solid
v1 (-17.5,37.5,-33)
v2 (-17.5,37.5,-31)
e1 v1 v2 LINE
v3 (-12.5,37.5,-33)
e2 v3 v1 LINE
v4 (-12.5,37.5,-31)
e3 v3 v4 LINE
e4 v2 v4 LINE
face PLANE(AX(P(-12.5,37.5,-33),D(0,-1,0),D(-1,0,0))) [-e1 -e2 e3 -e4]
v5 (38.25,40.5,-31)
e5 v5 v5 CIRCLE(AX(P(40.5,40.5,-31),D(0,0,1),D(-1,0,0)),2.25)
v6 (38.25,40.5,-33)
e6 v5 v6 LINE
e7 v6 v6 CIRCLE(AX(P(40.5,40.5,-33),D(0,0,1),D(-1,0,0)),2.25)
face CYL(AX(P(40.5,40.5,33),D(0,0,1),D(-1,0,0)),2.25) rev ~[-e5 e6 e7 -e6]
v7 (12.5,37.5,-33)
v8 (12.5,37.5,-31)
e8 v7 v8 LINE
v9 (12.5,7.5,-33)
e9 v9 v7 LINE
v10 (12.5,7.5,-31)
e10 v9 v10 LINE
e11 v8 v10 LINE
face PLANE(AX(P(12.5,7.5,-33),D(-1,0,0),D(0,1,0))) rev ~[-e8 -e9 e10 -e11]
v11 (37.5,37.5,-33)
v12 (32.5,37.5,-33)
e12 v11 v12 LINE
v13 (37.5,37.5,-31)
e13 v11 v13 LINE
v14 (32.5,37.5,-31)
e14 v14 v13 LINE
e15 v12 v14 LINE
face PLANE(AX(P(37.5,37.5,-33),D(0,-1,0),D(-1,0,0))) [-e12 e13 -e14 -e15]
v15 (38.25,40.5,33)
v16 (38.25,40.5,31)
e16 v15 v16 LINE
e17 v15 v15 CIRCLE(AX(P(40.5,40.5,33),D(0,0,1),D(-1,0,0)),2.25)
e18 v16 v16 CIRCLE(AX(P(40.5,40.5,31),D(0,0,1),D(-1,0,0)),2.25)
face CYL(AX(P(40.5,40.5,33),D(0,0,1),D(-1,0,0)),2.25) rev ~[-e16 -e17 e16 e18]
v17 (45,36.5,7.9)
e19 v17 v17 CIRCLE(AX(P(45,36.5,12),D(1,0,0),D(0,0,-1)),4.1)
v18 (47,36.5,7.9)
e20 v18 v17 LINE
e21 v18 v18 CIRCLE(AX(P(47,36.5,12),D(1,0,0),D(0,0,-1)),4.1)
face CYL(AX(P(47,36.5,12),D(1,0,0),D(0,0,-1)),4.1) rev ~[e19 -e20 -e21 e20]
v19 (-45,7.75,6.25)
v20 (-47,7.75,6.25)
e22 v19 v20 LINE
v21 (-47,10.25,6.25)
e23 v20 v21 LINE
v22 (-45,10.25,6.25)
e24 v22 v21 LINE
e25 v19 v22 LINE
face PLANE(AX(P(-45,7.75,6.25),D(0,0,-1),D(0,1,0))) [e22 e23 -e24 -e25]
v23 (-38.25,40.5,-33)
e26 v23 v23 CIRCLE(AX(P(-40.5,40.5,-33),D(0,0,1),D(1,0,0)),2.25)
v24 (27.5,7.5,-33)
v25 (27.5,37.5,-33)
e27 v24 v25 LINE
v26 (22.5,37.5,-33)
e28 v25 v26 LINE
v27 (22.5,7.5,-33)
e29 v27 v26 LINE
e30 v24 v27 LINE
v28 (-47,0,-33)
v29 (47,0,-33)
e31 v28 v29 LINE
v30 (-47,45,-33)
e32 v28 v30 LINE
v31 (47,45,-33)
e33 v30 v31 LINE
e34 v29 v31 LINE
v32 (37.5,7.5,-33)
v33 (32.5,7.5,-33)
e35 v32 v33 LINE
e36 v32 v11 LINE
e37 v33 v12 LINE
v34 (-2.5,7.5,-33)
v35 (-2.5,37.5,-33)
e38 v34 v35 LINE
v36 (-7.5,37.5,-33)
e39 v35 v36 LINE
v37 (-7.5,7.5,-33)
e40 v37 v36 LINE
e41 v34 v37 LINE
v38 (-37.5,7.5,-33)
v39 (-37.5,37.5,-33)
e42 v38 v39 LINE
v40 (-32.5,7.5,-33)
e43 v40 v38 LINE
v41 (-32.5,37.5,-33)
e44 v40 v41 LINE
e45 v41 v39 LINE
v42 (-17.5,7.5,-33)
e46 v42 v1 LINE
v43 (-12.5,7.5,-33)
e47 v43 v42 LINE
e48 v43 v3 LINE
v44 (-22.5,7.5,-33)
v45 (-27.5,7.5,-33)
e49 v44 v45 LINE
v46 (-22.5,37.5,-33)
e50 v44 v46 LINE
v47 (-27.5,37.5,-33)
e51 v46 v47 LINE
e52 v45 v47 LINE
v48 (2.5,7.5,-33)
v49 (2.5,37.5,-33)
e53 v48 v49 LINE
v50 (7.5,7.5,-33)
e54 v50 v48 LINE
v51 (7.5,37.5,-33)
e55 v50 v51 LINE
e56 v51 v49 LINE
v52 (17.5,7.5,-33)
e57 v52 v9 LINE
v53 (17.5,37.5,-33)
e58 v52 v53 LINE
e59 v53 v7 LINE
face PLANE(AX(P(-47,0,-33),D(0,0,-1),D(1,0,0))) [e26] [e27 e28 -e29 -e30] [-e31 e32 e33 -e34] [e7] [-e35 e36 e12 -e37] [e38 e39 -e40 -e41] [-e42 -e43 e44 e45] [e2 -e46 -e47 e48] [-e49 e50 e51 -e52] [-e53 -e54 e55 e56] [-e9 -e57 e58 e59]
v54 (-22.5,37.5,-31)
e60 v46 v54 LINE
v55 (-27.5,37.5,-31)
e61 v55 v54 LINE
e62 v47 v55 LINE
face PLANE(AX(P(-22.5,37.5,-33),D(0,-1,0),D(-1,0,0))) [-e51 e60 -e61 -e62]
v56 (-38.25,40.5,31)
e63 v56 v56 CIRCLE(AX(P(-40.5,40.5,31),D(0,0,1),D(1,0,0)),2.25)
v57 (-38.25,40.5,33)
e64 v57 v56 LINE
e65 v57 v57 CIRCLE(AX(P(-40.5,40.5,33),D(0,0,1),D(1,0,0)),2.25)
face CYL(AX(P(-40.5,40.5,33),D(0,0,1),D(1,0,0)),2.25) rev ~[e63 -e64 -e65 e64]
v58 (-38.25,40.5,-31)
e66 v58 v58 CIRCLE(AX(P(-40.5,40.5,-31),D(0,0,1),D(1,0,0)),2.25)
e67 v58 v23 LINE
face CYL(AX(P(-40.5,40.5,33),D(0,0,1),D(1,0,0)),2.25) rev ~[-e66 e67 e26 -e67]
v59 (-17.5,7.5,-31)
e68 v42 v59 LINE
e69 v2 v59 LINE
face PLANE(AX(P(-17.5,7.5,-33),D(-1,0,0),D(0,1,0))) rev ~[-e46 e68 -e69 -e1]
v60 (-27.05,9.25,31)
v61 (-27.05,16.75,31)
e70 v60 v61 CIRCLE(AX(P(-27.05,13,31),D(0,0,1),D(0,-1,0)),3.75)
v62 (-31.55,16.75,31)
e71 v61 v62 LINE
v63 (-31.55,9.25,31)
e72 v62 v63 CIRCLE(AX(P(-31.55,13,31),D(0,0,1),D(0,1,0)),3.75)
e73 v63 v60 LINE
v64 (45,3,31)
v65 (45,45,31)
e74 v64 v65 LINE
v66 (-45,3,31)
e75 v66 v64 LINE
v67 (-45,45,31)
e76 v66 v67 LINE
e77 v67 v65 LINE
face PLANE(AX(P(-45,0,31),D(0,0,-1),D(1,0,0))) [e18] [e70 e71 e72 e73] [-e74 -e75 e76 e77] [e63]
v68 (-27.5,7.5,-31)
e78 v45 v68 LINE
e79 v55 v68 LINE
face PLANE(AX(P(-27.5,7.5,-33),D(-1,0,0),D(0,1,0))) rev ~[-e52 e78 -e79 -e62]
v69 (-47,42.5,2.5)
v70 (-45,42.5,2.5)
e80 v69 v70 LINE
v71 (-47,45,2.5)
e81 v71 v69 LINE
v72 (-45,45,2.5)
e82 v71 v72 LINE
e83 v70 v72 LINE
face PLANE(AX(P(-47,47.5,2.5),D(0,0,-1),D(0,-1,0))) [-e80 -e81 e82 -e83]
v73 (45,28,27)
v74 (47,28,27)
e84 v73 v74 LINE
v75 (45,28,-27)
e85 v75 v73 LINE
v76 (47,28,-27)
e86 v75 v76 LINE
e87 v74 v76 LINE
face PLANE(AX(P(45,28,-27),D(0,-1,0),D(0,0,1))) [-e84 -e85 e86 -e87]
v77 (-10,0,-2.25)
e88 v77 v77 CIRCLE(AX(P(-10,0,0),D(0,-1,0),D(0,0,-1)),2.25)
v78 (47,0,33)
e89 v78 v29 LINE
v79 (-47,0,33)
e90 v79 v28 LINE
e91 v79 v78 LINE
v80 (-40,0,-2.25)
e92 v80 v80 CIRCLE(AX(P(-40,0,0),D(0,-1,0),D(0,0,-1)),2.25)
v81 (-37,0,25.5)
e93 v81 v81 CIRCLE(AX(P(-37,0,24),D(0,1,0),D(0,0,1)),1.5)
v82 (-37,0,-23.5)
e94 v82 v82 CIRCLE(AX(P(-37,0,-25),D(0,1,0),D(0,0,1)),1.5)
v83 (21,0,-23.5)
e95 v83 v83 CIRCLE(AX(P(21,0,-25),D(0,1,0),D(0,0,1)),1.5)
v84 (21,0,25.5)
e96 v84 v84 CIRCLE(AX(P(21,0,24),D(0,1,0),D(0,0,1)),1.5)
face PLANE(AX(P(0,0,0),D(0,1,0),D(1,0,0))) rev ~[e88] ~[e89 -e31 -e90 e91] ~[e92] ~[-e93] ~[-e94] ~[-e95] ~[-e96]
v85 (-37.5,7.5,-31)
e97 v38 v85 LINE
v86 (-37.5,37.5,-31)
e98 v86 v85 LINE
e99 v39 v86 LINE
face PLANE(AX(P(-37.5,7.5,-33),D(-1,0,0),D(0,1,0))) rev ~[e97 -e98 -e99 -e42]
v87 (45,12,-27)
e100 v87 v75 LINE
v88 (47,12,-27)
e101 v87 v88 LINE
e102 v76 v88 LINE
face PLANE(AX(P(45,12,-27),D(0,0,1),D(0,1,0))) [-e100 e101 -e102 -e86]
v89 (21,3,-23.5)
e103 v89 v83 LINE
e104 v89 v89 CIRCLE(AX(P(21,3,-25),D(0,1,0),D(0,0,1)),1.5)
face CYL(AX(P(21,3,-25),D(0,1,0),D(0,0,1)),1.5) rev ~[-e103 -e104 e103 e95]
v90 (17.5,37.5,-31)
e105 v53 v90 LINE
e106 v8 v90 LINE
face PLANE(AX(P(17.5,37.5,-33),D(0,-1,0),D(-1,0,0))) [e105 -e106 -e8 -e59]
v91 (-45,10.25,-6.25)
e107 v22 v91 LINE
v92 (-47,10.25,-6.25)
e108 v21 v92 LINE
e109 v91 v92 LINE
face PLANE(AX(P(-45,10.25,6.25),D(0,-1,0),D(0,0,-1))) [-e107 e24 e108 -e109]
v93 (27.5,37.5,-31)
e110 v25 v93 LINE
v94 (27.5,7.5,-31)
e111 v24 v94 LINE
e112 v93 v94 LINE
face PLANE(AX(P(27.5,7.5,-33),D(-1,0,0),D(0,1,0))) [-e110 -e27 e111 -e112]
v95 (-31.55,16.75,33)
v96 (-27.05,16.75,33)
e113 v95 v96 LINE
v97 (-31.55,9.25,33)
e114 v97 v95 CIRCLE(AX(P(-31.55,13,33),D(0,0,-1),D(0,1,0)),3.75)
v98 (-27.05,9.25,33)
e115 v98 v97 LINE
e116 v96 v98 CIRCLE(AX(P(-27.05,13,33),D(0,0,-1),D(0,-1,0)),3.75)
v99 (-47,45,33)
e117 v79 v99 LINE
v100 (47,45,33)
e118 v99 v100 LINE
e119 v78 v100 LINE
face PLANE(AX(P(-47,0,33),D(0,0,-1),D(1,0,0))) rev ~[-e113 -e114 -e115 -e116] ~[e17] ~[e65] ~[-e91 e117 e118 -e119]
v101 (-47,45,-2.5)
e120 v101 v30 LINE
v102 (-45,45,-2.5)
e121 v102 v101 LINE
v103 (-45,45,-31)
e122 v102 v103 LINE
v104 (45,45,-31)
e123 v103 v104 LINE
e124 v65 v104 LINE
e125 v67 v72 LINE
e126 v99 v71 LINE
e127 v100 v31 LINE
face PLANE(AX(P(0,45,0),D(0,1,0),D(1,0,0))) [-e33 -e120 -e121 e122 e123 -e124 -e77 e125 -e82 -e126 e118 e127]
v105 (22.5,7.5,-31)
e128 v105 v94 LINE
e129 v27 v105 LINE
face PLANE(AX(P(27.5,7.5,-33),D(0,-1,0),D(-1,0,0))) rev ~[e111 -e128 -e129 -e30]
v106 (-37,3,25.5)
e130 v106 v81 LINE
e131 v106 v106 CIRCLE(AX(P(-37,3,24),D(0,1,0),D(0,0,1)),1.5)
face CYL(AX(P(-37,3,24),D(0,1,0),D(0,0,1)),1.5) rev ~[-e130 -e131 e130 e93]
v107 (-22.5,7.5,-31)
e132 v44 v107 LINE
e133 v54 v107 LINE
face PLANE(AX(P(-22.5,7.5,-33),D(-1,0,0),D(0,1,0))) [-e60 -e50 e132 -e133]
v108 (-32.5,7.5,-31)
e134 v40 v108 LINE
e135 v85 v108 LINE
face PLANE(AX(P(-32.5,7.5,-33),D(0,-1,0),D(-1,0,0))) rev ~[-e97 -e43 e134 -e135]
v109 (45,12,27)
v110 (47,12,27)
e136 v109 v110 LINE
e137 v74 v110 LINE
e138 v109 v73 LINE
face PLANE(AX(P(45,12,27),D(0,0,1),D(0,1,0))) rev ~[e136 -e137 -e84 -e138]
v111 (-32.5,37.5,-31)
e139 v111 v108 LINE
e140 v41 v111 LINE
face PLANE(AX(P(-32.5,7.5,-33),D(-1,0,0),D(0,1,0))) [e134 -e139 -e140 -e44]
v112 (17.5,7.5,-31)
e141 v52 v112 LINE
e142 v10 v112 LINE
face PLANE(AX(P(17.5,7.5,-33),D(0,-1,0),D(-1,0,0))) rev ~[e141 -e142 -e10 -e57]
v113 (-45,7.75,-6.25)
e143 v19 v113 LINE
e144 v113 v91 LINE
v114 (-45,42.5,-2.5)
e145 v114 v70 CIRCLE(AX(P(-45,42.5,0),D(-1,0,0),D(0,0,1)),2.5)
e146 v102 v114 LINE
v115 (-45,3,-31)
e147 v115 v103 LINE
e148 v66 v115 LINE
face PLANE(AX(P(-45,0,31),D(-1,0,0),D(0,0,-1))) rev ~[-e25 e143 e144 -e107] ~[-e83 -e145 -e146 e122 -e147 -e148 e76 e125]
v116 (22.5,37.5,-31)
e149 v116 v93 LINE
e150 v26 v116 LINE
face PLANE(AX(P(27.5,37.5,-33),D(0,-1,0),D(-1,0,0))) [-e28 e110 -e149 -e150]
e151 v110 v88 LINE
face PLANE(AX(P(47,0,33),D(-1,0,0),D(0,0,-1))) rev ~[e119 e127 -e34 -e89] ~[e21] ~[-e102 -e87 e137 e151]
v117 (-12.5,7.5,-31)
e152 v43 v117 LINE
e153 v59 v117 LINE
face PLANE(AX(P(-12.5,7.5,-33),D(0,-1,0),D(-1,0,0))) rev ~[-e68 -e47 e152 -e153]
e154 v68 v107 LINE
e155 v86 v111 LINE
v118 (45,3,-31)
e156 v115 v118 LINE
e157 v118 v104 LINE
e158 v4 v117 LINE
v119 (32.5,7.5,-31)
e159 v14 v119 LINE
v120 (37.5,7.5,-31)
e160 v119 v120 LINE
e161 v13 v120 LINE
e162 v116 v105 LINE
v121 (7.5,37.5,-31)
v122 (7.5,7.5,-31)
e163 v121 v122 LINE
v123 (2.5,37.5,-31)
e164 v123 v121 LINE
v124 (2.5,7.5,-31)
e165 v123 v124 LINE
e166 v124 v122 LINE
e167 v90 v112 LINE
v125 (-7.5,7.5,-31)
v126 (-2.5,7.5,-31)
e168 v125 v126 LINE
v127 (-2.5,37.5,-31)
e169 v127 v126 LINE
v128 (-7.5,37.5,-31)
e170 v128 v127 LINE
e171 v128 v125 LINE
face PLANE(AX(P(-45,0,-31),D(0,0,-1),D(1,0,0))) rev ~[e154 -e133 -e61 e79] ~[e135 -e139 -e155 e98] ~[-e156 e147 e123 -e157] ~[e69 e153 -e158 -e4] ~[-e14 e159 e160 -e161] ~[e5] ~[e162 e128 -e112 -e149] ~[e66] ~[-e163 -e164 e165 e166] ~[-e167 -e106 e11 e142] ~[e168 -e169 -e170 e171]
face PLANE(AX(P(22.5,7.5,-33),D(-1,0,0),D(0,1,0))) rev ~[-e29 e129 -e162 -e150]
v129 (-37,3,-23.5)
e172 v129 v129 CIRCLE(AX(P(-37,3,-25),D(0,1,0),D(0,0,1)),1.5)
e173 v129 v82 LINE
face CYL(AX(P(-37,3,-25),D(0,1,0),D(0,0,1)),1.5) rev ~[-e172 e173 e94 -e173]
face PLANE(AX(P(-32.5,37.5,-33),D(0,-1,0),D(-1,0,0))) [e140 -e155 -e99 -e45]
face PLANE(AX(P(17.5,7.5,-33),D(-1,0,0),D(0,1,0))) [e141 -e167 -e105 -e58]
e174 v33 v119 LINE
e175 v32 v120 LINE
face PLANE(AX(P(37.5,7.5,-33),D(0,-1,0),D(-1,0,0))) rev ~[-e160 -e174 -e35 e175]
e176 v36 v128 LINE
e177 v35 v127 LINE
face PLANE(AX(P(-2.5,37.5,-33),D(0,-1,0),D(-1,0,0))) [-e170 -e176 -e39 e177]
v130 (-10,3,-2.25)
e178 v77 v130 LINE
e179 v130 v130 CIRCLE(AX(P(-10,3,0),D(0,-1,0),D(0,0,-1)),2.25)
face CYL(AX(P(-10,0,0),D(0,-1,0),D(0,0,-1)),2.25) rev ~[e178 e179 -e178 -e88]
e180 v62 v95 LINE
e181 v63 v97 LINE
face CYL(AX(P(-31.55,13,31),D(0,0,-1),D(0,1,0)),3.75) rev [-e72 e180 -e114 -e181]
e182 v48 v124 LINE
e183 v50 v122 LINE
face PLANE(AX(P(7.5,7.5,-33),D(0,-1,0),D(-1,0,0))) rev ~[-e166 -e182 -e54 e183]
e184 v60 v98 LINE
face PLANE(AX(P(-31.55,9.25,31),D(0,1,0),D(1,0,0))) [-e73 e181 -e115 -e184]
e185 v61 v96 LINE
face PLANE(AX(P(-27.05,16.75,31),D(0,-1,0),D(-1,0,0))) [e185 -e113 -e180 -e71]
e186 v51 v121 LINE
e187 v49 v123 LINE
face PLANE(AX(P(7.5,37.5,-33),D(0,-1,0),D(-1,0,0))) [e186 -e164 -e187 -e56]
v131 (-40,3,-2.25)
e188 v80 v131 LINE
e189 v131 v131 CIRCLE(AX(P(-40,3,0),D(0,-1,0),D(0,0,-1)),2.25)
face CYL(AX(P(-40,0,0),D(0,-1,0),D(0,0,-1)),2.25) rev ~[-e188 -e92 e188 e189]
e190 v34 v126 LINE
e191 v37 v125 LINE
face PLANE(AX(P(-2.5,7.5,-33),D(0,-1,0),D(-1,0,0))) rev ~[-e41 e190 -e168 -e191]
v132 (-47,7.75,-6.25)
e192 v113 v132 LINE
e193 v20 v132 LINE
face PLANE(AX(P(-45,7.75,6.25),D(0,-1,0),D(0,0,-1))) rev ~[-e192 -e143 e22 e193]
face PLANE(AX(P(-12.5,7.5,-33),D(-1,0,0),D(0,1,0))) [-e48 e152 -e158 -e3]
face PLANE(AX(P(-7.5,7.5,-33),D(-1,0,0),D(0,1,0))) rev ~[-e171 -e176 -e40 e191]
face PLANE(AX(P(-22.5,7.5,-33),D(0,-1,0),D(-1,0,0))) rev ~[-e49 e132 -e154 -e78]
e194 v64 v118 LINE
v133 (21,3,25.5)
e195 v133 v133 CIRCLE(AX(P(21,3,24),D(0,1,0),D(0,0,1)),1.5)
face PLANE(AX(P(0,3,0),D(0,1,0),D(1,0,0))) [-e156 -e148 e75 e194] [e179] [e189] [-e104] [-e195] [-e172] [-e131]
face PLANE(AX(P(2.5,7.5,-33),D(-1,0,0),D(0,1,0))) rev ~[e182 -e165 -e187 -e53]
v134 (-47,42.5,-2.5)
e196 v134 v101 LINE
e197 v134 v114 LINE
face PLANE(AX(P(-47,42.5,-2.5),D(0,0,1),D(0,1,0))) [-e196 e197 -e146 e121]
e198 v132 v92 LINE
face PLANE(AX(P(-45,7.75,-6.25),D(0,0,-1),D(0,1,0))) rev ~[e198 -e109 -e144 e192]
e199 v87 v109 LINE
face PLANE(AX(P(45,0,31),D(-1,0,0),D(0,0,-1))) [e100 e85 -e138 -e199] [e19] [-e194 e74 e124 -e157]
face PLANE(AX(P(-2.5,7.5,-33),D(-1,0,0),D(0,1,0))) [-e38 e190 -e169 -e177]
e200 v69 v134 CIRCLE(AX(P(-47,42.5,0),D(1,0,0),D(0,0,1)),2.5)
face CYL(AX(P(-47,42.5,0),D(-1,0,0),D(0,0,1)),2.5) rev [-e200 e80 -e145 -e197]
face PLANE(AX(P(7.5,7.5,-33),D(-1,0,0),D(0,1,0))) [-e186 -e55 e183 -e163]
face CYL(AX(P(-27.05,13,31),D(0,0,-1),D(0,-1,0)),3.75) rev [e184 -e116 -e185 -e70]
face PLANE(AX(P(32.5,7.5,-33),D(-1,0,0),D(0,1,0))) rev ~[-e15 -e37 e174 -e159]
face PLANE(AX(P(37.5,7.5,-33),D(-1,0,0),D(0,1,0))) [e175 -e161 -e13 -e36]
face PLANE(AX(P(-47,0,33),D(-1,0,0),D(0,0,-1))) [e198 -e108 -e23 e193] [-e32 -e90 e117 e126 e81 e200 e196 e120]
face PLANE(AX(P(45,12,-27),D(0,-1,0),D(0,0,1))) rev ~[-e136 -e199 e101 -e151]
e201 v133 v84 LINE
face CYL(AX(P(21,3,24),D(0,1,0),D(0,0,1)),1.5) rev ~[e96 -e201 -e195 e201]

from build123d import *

# Parameters (mm, degrees)
SKETCH1_W           = 90
SKETCH1_H           = 62
BOSS_EXTRUDE1_DEPTH = 3
CUT_EXTRUDE1_REACH  = 56.727
SKETCH2_R           = 1.5
SKETCH3_W           = 94
SKETCH3_H           = 66
SKETCH3_W_2         = 90
SKETCH3_H_2         = 62
BOSS_EXTRUDE2_DEPTH = 45
CUT_EXTRUDE2_REACH  = 109.601
SKETCH4_W           = 12.5
SKETCH4_H           = 2.5
CUT_EXTRUDE3_REACH  = 93.269
CUT_EXTRUDE4_REACH  = 109.601
SKETCH6_W           = 54
SKETCH6_H           = 16
CUT_EXTRUDE5_REACH  = 111.316
SKETCH7_R           = 4.1
SKETCH8_R           = 2.25
CUT_EXTRUDE6_DEPTH  = 93.682252886
CUT_EXTRUDE8_REACH  = 94.682
SKETCH10_W          = 5
SKETCH10_H          = 30
CUT_EXTRUDE9_REACH  = 111.316
CUT_EXTRUDE10_REACH = 74.959
SKETCH12_R          = 2.25


with BuildPart() as part:
    # Sketch1 → Boss-Extrude1 (new body)
    with BuildSketch(Plane(origin=(0, 0, 0), x_dir=(1, 0, 0), z_dir=(0, 1, 0))):
        Rectangle(SKETCH1_W, SKETCH1_H)
    extrude(amount=BOSS_EXTRUDE1_DEPTH)

    # Sketch2 → Cut-Extrude1 (cut, up to next)
    with BuildSketch(Plane(origin=(0, 3, 0), x_dir=(1, 0, 0), z_dir=(0, 1, 0)), mode=Mode.PRIVATE) as cut_extrude1_sk1:
        with Locations(Location((-37, -24, 0), (0, 0, 270))):
            Circle(SKETCH2_R)
    cut_extrude1_tool1 = extrude(cut_extrude1_sk1.sketch, amount=-CUT_EXTRUDE1_REACH, mode=Mode.PRIVATE) & part.part
    # Sketch2 → Cut-Extrude1 (cut, up to next)
    with BuildSketch(Plane(origin=(0, 3, 0), x_dir=(1, 0, 0), z_dir=(0, 1, 0)), mode=Mode.PRIVATE) as cut_extrude1_sk2:
        with Locations(Location((21, -24, 0), (0, 0, 270))):
            Circle(SKETCH2_R)
    cut_extrude1_tool2 = extrude(cut_extrude1_sk2.sketch, amount=-CUT_EXTRUDE1_REACH, mode=Mode.PRIVATE) & part.part
    # Sketch2 → Cut-Extrude1 (cut, up to next)
    with BuildSketch(Plane(origin=(0, 3, 0), x_dir=(1, 0, 0), z_dir=(0, 1, 0)), mode=Mode.PRIVATE) as cut_extrude1_sk3:
        with Locations(Location((21, 25, 0), (0, 0, 270))):
            Circle(SKETCH2_R)
    cut_extrude1_tool3 = extrude(cut_extrude1_sk3.sketch, amount=-CUT_EXTRUDE1_REACH, mode=Mode.PRIVATE) & part.part
    # Sketch2 → Cut-Extrude1 (cut, up to next)
    with BuildSketch(Plane(origin=(0, 3, 0), x_dir=(1, 0, 0), z_dir=(0, 1, 0)), mode=Mode.PRIVATE) as cut_extrude1_sk4:
        with Locations(Location((-37, 25, 0), (0, 0, 270))):
            Circle(SKETCH2_R)
    cut_extrude1_tool4 = extrude(cut_extrude1_sk4.sketch, amount=-CUT_EXTRUDE1_REACH, mode=Mode.PRIVATE) & part.part
    add(cut_extrude1_tool1.solids().sort_by_distance((-37, 3, 24))[0], mode=Mode.SUBTRACT)
    add(cut_extrude1_tool2.solids().sort_by_distance((21, 3, 24))[0], mode=Mode.SUBTRACT)
    add(cut_extrude1_tool3.solids().sort_by_distance((21, 3, -25))[0], mode=Mode.SUBTRACT)
    add(cut_extrude1_tool4.solids().sort_by_distance((-37, 3, -25))[0], mode=Mode.SUBTRACT)

    # Sketch3 → Boss-Extrude2 (add)
    with BuildSketch(Plane(origin=(0, 0, 0), x_dir=(1, 0, 0), z_dir=(0, 1, 0))):
        Rectangle(SKETCH3_W, SKETCH3_H)
        Rectangle(SKETCH3_W_2, SKETCH3_H_2, mode=Mode.SUBTRACT)
    extrude(amount=BOSS_EXTRUDE2_DEPTH)

    # Sketch4 → Cut-Extrude2 (cut, up to next)
    with BuildSketch(Plane(origin=(-45, 0, 0), x_dir=(0, 0, -1), z_dir=(1, 0, 0)), mode=Mode.PRIVATE) as cut_extrude2_sk1:
        with Locations((0, 9)):
            Rectangle(SKETCH4_W, SKETCH4_H)
    cut_extrude2_tool1 = extrude(cut_extrude2_sk1.sketch, amount=-CUT_EXTRUDE2_REACH, mode=Mode.PRIVATE) & part.part
    add(cut_extrude2_tool1.solids().sort_by_distance((-45, 9, 0))[0], mode=Mode.SUBTRACT)

    # Sketch5 → Cut-Extrude3 (cut, up to next)
    with BuildSketch(Plane(origin=(0, 0, 31), x_dir=(-1, 0, 0), z_dir=(0, 0, -1)), mode=Mode.PRIVATE) as cut_extrude3_sk1:
        with BuildLine():
            Line((31.55, 9.25), (27.05, 9.25))
            ThreePointArc((27.05, 9.25), (23.3, 13), (27.05, 16.75))
            Line((27.05, 16.75), (31.55, 16.75))
            ThreePointArc((31.55, 16.75), (35.3, 13), (31.55, 9.25))
        make_face()
    cut_extrude3_tool1 = extrude(cut_extrude3_sk1.sketch, amount=-CUT_EXTRUDE3_REACH, mode=Mode.PRIVATE) & part.part
    add(cut_extrude3_tool1.solids().sort_by_distance((-29.3, 13, 31))[0], mode=Mode.SUBTRACT)

    # Sketch6 → Cut-Extrude4 (cut, up to next)
    with BuildSketch(Plane.ZY.offset(-45), mode=Mode.PRIVATE) as cut_extrude4_sk1:
        with Locations((0, 20)):
            Rectangle(SKETCH6_W, SKETCH6_H)
    cut_extrude4_tool1 = extrude(cut_extrude4_sk1.sketch, amount=-CUT_EXTRUDE4_REACH, mode=Mode.PRIVATE) & part.part
    add(cut_extrude4_tool1.solids().sort_by_distance((45, 20, 0))[0], mode=Mode.SUBTRACT)

    # Sketch7 → Cut-Extrude5 (cut, up to next)
    with BuildSketch(Plane(origin=(47, 0, 0), x_dir=(0, 0, -1), z_dir=(1, 0, 0)), mode=Mode.PRIVATE) as cut_extrude5_sk1:
        with Locations((-12, 36.5)):
            Circle(SKETCH7_R)
    cut_extrude5_tool1 = extrude(cut_extrude5_sk1.sketch, amount=-CUT_EXTRUDE5_REACH, mode=Mode.PRIVATE) & part.part
    add(cut_extrude5_tool1.solids().sort_by_distance((47, 36.5, 12))[0], mode=Mode.SUBTRACT)

    # Sketch8 → Cut-Extrude6 (cut, through all)
    with BuildSketch(Plane.XY.offset(33)):
        with Locations((-40.5, 40.5)):
            Circle(SKETCH8_R)
        with Locations(Location((40.5, 40.5, 0), (0, 0, 180))):
            Circle(SKETCH8_R)
    extrude(amount=-CUT_EXTRUDE6_DEPTH, mode=Mode.SUBTRACT)

    # Sketch10 → Cut-Extrude8 (cut, up to next)
    with BuildSketch(Plane(origin=(0, 0, -33), x_dir=(-1, 0, 0), z_dir=(0, 0, -1)), mode=Mode.PRIVATE) as cut_extrude8_sk1:
        with Locations((15, 22.5)):
            Rectangle(SKETCH10_W, SKETCH10_H)
    cut_extrude8_tool1 = extrude(cut_extrude8_sk1.sketch, amount=-CUT_EXTRUDE8_REACH, mode=Mode.PRIVATE) & part.part
    # Sketch10 → Cut-Extrude8 (cut, up to next)
    with BuildSketch(Plane(origin=(0, 0, -33), x_dir=(-1, 0, 0), z_dir=(0, 0, -1)), mode=Mode.PRIVATE) as cut_extrude8_sk2:
        with Locations((5, 22.5)):
            Rectangle(SKETCH10_W, SKETCH10_H)
    cut_extrude8_tool2 = extrude(cut_extrude8_sk2.sketch, amount=-CUT_EXTRUDE8_REACH, mode=Mode.PRIVATE) & part.part
    # Sketch10 → Cut-Extrude8 (cut, up to next)
    with BuildSketch(Plane(origin=(0, 0, -33), x_dir=(-1, 0, 0), z_dir=(0, 0, -1)), mode=Mode.PRIVATE) as cut_extrude8_sk3:
        with Locations((25, 22.5)):
            Rectangle(SKETCH10_W, SKETCH10_H)
    cut_extrude8_tool3 = extrude(cut_extrude8_sk3.sketch, amount=-CUT_EXTRUDE8_REACH, mode=Mode.PRIVATE) & part.part
    # Sketch10 → Cut-Extrude8 (cut, up to next)
    with BuildSketch(Plane(origin=(0, 0, -33), x_dir=(-1, 0, 0), z_dir=(0, 0, -1)), mode=Mode.PRIVATE) as cut_extrude8_sk4:
        with Locations((35, 22.5)):
            Rectangle(SKETCH10_W, SKETCH10_H)
    cut_extrude8_tool4 = extrude(cut_extrude8_sk4.sketch, amount=-CUT_EXTRUDE8_REACH, mode=Mode.PRIVATE) & part.part
    # Sketch10 → Cut-Extrude8 (cut, up to next)
    with BuildSketch(Plane(origin=(0, 0, -33), x_dir=(-1, 0, 0), z_dir=(0, 0, -1)), mode=Mode.PRIVATE) as cut_extrude8_sk5:
        with Locations((-5, 22.5)):
            Rectangle(SKETCH10_W, SKETCH10_H)
    cut_extrude8_tool5 = extrude(cut_extrude8_sk5.sketch, amount=-CUT_EXTRUDE8_REACH, mode=Mode.PRIVATE) & part.part
    # Sketch10 → Cut-Extrude8 (cut, up to next)
    with BuildSketch(Plane(origin=(0, 0, -33), x_dir=(-1, 0, 0), z_dir=(0, 0, -1)), mode=Mode.PRIVATE) as cut_extrude8_sk6:
        with Locations((-15, 22.5)):
            Rectangle(SKETCH10_W, SKETCH10_H)
    cut_extrude8_tool6 = extrude(cut_extrude8_sk6.sketch, amount=-CUT_EXTRUDE8_REACH, mode=Mode.PRIVATE) & part.part
    # Sketch10 → Cut-Extrude8 (cut, up to next)
    with BuildSketch(Plane(origin=(0, 0, -33), x_dir=(-1, 0, 0), z_dir=(0, 0, -1)), mode=Mode.PRIVATE) as cut_extrude8_sk7:
        with Locations((-25, 22.5)):
            Rectangle(SKETCH10_W, SKETCH10_H)
    cut_extrude8_tool7 = extrude(cut_extrude8_sk7.sketch, amount=-CUT_EXTRUDE8_REACH, mode=Mode.PRIVATE) & part.part
    # Sketch10 → Cut-Extrude8 (cut, up to next)
    with BuildSketch(Plane(origin=(0, 0, -33), x_dir=(-1, 0, 0), z_dir=(0, 0, -1)), mode=Mode.PRIVATE) as cut_extrude8_sk8:
        with Locations((-35, 22.5)):
            Rectangle(SKETCH10_W, SKETCH10_H)
    cut_extrude8_tool8 = extrude(cut_extrude8_sk8.sketch, amount=-CUT_EXTRUDE8_REACH, mode=Mode.PRIVATE) & part.part
    add(cut_extrude8_tool1.solids().sort_by_distance((-15, 22.5, -33))[0], mode=Mode.SUBTRACT)
    add(cut_extrude8_tool2.solids().sort_by_distance((-5, 22.5, -33))[0], mode=Mode.SUBTRACT)
    add(cut_extrude8_tool3.solids().sort_by_distance((-25, 22.5, -33))[0], mode=Mode.SUBTRACT)
    add(cut_extrude8_tool4.solids().sort_by_distance((-35, 22.5, -33))[0], mode=Mode.SUBTRACT)
    add(cut_extrude8_tool5.solids().sort_by_distance((5, 22.5, -33))[0], mode=Mode.SUBTRACT)
    add(cut_extrude8_tool6.solids().sort_by_distance((15, 22.5, -33))[0], mode=Mode.SUBTRACT)
    add(cut_extrude8_tool7.solids().sort_by_distance((25, 22.5, -33))[0], mode=Mode.SUBTRACT)
    add(cut_extrude8_tool8.solids().sort_by_distance((35, 22.5, -33))[0], mode=Mode.SUBTRACT)

    # Sketch11 → Cut-Extrude9 (cut, up to next)
    with BuildSketch(Plane.ZY.offset(47), mode=Mode.PRIVATE) as cut_extrude9_sk1:
        with BuildLine():
            Line((2.5, 47.5), (2.5, 42.5))
            ThreePointArc((2.5, 42.5), (0, 40), (-2.5, 42.5))
            Line((-2.5, 42.5), (-2.5, 47.5))
            ThreePointArc((-2.5, 47.5), (0, 50), (2.5, 47.5))
        make_face()
    cut_extrude9_tool1 = extrude(cut_extrude9_sk1.sketch, amount=-CUT_EXTRUDE9_REACH, mode=Mode.PRIVATE) & part.part
    add(cut_extrude9_tool1.solids().sort_by_distance((-47, 45, 0))[0], mode=Mode.SUBTRACT)

    # Sketch12 → Cut-Extrude10 (cut, up to next)
    with BuildSketch(Plane.XZ, mode=Mode.PRIVATE) as cut_extrude10_sk1:
        with Locations(Location((-40, 0, 0), (0, 0, 270))):
            Circle(SKETCH12_R)
    cut_extrude10_tool1 = extrude(cut_extrude10_sk1.sketch, amount=-CUT_EXTRUDE10_REACH, mode=Mode.PRIVATE) & part.part
    # Sketch12 → Cut-Extrude10 (cut, up to next)
    with BuildSketch(Plane.XZ, mode=Mode.PRIVATE) as cut_extrude10_sk2:
        with Locations(Location((-10, 0, 0), (0, 0, 270))):
            Circle(SKETCH12_R)
    cut_extrude10_tool2 = extrude(cut_extrude10_sk2.sketch, amount=-CUT_EXTRUDE10_REACH, mode=Mode.PRIVATE) & part.part
    add(cut_extrude10_tool1.solids().sort_by_distance((-40, 0, 0))[0], mode=Mode.SUBTRACT)
    add(cut_extrude10_tool2.solids().sort_by_distance((-10, 0, 0))[0], mode=Mode.SUBTRACT)


solid = part.part
